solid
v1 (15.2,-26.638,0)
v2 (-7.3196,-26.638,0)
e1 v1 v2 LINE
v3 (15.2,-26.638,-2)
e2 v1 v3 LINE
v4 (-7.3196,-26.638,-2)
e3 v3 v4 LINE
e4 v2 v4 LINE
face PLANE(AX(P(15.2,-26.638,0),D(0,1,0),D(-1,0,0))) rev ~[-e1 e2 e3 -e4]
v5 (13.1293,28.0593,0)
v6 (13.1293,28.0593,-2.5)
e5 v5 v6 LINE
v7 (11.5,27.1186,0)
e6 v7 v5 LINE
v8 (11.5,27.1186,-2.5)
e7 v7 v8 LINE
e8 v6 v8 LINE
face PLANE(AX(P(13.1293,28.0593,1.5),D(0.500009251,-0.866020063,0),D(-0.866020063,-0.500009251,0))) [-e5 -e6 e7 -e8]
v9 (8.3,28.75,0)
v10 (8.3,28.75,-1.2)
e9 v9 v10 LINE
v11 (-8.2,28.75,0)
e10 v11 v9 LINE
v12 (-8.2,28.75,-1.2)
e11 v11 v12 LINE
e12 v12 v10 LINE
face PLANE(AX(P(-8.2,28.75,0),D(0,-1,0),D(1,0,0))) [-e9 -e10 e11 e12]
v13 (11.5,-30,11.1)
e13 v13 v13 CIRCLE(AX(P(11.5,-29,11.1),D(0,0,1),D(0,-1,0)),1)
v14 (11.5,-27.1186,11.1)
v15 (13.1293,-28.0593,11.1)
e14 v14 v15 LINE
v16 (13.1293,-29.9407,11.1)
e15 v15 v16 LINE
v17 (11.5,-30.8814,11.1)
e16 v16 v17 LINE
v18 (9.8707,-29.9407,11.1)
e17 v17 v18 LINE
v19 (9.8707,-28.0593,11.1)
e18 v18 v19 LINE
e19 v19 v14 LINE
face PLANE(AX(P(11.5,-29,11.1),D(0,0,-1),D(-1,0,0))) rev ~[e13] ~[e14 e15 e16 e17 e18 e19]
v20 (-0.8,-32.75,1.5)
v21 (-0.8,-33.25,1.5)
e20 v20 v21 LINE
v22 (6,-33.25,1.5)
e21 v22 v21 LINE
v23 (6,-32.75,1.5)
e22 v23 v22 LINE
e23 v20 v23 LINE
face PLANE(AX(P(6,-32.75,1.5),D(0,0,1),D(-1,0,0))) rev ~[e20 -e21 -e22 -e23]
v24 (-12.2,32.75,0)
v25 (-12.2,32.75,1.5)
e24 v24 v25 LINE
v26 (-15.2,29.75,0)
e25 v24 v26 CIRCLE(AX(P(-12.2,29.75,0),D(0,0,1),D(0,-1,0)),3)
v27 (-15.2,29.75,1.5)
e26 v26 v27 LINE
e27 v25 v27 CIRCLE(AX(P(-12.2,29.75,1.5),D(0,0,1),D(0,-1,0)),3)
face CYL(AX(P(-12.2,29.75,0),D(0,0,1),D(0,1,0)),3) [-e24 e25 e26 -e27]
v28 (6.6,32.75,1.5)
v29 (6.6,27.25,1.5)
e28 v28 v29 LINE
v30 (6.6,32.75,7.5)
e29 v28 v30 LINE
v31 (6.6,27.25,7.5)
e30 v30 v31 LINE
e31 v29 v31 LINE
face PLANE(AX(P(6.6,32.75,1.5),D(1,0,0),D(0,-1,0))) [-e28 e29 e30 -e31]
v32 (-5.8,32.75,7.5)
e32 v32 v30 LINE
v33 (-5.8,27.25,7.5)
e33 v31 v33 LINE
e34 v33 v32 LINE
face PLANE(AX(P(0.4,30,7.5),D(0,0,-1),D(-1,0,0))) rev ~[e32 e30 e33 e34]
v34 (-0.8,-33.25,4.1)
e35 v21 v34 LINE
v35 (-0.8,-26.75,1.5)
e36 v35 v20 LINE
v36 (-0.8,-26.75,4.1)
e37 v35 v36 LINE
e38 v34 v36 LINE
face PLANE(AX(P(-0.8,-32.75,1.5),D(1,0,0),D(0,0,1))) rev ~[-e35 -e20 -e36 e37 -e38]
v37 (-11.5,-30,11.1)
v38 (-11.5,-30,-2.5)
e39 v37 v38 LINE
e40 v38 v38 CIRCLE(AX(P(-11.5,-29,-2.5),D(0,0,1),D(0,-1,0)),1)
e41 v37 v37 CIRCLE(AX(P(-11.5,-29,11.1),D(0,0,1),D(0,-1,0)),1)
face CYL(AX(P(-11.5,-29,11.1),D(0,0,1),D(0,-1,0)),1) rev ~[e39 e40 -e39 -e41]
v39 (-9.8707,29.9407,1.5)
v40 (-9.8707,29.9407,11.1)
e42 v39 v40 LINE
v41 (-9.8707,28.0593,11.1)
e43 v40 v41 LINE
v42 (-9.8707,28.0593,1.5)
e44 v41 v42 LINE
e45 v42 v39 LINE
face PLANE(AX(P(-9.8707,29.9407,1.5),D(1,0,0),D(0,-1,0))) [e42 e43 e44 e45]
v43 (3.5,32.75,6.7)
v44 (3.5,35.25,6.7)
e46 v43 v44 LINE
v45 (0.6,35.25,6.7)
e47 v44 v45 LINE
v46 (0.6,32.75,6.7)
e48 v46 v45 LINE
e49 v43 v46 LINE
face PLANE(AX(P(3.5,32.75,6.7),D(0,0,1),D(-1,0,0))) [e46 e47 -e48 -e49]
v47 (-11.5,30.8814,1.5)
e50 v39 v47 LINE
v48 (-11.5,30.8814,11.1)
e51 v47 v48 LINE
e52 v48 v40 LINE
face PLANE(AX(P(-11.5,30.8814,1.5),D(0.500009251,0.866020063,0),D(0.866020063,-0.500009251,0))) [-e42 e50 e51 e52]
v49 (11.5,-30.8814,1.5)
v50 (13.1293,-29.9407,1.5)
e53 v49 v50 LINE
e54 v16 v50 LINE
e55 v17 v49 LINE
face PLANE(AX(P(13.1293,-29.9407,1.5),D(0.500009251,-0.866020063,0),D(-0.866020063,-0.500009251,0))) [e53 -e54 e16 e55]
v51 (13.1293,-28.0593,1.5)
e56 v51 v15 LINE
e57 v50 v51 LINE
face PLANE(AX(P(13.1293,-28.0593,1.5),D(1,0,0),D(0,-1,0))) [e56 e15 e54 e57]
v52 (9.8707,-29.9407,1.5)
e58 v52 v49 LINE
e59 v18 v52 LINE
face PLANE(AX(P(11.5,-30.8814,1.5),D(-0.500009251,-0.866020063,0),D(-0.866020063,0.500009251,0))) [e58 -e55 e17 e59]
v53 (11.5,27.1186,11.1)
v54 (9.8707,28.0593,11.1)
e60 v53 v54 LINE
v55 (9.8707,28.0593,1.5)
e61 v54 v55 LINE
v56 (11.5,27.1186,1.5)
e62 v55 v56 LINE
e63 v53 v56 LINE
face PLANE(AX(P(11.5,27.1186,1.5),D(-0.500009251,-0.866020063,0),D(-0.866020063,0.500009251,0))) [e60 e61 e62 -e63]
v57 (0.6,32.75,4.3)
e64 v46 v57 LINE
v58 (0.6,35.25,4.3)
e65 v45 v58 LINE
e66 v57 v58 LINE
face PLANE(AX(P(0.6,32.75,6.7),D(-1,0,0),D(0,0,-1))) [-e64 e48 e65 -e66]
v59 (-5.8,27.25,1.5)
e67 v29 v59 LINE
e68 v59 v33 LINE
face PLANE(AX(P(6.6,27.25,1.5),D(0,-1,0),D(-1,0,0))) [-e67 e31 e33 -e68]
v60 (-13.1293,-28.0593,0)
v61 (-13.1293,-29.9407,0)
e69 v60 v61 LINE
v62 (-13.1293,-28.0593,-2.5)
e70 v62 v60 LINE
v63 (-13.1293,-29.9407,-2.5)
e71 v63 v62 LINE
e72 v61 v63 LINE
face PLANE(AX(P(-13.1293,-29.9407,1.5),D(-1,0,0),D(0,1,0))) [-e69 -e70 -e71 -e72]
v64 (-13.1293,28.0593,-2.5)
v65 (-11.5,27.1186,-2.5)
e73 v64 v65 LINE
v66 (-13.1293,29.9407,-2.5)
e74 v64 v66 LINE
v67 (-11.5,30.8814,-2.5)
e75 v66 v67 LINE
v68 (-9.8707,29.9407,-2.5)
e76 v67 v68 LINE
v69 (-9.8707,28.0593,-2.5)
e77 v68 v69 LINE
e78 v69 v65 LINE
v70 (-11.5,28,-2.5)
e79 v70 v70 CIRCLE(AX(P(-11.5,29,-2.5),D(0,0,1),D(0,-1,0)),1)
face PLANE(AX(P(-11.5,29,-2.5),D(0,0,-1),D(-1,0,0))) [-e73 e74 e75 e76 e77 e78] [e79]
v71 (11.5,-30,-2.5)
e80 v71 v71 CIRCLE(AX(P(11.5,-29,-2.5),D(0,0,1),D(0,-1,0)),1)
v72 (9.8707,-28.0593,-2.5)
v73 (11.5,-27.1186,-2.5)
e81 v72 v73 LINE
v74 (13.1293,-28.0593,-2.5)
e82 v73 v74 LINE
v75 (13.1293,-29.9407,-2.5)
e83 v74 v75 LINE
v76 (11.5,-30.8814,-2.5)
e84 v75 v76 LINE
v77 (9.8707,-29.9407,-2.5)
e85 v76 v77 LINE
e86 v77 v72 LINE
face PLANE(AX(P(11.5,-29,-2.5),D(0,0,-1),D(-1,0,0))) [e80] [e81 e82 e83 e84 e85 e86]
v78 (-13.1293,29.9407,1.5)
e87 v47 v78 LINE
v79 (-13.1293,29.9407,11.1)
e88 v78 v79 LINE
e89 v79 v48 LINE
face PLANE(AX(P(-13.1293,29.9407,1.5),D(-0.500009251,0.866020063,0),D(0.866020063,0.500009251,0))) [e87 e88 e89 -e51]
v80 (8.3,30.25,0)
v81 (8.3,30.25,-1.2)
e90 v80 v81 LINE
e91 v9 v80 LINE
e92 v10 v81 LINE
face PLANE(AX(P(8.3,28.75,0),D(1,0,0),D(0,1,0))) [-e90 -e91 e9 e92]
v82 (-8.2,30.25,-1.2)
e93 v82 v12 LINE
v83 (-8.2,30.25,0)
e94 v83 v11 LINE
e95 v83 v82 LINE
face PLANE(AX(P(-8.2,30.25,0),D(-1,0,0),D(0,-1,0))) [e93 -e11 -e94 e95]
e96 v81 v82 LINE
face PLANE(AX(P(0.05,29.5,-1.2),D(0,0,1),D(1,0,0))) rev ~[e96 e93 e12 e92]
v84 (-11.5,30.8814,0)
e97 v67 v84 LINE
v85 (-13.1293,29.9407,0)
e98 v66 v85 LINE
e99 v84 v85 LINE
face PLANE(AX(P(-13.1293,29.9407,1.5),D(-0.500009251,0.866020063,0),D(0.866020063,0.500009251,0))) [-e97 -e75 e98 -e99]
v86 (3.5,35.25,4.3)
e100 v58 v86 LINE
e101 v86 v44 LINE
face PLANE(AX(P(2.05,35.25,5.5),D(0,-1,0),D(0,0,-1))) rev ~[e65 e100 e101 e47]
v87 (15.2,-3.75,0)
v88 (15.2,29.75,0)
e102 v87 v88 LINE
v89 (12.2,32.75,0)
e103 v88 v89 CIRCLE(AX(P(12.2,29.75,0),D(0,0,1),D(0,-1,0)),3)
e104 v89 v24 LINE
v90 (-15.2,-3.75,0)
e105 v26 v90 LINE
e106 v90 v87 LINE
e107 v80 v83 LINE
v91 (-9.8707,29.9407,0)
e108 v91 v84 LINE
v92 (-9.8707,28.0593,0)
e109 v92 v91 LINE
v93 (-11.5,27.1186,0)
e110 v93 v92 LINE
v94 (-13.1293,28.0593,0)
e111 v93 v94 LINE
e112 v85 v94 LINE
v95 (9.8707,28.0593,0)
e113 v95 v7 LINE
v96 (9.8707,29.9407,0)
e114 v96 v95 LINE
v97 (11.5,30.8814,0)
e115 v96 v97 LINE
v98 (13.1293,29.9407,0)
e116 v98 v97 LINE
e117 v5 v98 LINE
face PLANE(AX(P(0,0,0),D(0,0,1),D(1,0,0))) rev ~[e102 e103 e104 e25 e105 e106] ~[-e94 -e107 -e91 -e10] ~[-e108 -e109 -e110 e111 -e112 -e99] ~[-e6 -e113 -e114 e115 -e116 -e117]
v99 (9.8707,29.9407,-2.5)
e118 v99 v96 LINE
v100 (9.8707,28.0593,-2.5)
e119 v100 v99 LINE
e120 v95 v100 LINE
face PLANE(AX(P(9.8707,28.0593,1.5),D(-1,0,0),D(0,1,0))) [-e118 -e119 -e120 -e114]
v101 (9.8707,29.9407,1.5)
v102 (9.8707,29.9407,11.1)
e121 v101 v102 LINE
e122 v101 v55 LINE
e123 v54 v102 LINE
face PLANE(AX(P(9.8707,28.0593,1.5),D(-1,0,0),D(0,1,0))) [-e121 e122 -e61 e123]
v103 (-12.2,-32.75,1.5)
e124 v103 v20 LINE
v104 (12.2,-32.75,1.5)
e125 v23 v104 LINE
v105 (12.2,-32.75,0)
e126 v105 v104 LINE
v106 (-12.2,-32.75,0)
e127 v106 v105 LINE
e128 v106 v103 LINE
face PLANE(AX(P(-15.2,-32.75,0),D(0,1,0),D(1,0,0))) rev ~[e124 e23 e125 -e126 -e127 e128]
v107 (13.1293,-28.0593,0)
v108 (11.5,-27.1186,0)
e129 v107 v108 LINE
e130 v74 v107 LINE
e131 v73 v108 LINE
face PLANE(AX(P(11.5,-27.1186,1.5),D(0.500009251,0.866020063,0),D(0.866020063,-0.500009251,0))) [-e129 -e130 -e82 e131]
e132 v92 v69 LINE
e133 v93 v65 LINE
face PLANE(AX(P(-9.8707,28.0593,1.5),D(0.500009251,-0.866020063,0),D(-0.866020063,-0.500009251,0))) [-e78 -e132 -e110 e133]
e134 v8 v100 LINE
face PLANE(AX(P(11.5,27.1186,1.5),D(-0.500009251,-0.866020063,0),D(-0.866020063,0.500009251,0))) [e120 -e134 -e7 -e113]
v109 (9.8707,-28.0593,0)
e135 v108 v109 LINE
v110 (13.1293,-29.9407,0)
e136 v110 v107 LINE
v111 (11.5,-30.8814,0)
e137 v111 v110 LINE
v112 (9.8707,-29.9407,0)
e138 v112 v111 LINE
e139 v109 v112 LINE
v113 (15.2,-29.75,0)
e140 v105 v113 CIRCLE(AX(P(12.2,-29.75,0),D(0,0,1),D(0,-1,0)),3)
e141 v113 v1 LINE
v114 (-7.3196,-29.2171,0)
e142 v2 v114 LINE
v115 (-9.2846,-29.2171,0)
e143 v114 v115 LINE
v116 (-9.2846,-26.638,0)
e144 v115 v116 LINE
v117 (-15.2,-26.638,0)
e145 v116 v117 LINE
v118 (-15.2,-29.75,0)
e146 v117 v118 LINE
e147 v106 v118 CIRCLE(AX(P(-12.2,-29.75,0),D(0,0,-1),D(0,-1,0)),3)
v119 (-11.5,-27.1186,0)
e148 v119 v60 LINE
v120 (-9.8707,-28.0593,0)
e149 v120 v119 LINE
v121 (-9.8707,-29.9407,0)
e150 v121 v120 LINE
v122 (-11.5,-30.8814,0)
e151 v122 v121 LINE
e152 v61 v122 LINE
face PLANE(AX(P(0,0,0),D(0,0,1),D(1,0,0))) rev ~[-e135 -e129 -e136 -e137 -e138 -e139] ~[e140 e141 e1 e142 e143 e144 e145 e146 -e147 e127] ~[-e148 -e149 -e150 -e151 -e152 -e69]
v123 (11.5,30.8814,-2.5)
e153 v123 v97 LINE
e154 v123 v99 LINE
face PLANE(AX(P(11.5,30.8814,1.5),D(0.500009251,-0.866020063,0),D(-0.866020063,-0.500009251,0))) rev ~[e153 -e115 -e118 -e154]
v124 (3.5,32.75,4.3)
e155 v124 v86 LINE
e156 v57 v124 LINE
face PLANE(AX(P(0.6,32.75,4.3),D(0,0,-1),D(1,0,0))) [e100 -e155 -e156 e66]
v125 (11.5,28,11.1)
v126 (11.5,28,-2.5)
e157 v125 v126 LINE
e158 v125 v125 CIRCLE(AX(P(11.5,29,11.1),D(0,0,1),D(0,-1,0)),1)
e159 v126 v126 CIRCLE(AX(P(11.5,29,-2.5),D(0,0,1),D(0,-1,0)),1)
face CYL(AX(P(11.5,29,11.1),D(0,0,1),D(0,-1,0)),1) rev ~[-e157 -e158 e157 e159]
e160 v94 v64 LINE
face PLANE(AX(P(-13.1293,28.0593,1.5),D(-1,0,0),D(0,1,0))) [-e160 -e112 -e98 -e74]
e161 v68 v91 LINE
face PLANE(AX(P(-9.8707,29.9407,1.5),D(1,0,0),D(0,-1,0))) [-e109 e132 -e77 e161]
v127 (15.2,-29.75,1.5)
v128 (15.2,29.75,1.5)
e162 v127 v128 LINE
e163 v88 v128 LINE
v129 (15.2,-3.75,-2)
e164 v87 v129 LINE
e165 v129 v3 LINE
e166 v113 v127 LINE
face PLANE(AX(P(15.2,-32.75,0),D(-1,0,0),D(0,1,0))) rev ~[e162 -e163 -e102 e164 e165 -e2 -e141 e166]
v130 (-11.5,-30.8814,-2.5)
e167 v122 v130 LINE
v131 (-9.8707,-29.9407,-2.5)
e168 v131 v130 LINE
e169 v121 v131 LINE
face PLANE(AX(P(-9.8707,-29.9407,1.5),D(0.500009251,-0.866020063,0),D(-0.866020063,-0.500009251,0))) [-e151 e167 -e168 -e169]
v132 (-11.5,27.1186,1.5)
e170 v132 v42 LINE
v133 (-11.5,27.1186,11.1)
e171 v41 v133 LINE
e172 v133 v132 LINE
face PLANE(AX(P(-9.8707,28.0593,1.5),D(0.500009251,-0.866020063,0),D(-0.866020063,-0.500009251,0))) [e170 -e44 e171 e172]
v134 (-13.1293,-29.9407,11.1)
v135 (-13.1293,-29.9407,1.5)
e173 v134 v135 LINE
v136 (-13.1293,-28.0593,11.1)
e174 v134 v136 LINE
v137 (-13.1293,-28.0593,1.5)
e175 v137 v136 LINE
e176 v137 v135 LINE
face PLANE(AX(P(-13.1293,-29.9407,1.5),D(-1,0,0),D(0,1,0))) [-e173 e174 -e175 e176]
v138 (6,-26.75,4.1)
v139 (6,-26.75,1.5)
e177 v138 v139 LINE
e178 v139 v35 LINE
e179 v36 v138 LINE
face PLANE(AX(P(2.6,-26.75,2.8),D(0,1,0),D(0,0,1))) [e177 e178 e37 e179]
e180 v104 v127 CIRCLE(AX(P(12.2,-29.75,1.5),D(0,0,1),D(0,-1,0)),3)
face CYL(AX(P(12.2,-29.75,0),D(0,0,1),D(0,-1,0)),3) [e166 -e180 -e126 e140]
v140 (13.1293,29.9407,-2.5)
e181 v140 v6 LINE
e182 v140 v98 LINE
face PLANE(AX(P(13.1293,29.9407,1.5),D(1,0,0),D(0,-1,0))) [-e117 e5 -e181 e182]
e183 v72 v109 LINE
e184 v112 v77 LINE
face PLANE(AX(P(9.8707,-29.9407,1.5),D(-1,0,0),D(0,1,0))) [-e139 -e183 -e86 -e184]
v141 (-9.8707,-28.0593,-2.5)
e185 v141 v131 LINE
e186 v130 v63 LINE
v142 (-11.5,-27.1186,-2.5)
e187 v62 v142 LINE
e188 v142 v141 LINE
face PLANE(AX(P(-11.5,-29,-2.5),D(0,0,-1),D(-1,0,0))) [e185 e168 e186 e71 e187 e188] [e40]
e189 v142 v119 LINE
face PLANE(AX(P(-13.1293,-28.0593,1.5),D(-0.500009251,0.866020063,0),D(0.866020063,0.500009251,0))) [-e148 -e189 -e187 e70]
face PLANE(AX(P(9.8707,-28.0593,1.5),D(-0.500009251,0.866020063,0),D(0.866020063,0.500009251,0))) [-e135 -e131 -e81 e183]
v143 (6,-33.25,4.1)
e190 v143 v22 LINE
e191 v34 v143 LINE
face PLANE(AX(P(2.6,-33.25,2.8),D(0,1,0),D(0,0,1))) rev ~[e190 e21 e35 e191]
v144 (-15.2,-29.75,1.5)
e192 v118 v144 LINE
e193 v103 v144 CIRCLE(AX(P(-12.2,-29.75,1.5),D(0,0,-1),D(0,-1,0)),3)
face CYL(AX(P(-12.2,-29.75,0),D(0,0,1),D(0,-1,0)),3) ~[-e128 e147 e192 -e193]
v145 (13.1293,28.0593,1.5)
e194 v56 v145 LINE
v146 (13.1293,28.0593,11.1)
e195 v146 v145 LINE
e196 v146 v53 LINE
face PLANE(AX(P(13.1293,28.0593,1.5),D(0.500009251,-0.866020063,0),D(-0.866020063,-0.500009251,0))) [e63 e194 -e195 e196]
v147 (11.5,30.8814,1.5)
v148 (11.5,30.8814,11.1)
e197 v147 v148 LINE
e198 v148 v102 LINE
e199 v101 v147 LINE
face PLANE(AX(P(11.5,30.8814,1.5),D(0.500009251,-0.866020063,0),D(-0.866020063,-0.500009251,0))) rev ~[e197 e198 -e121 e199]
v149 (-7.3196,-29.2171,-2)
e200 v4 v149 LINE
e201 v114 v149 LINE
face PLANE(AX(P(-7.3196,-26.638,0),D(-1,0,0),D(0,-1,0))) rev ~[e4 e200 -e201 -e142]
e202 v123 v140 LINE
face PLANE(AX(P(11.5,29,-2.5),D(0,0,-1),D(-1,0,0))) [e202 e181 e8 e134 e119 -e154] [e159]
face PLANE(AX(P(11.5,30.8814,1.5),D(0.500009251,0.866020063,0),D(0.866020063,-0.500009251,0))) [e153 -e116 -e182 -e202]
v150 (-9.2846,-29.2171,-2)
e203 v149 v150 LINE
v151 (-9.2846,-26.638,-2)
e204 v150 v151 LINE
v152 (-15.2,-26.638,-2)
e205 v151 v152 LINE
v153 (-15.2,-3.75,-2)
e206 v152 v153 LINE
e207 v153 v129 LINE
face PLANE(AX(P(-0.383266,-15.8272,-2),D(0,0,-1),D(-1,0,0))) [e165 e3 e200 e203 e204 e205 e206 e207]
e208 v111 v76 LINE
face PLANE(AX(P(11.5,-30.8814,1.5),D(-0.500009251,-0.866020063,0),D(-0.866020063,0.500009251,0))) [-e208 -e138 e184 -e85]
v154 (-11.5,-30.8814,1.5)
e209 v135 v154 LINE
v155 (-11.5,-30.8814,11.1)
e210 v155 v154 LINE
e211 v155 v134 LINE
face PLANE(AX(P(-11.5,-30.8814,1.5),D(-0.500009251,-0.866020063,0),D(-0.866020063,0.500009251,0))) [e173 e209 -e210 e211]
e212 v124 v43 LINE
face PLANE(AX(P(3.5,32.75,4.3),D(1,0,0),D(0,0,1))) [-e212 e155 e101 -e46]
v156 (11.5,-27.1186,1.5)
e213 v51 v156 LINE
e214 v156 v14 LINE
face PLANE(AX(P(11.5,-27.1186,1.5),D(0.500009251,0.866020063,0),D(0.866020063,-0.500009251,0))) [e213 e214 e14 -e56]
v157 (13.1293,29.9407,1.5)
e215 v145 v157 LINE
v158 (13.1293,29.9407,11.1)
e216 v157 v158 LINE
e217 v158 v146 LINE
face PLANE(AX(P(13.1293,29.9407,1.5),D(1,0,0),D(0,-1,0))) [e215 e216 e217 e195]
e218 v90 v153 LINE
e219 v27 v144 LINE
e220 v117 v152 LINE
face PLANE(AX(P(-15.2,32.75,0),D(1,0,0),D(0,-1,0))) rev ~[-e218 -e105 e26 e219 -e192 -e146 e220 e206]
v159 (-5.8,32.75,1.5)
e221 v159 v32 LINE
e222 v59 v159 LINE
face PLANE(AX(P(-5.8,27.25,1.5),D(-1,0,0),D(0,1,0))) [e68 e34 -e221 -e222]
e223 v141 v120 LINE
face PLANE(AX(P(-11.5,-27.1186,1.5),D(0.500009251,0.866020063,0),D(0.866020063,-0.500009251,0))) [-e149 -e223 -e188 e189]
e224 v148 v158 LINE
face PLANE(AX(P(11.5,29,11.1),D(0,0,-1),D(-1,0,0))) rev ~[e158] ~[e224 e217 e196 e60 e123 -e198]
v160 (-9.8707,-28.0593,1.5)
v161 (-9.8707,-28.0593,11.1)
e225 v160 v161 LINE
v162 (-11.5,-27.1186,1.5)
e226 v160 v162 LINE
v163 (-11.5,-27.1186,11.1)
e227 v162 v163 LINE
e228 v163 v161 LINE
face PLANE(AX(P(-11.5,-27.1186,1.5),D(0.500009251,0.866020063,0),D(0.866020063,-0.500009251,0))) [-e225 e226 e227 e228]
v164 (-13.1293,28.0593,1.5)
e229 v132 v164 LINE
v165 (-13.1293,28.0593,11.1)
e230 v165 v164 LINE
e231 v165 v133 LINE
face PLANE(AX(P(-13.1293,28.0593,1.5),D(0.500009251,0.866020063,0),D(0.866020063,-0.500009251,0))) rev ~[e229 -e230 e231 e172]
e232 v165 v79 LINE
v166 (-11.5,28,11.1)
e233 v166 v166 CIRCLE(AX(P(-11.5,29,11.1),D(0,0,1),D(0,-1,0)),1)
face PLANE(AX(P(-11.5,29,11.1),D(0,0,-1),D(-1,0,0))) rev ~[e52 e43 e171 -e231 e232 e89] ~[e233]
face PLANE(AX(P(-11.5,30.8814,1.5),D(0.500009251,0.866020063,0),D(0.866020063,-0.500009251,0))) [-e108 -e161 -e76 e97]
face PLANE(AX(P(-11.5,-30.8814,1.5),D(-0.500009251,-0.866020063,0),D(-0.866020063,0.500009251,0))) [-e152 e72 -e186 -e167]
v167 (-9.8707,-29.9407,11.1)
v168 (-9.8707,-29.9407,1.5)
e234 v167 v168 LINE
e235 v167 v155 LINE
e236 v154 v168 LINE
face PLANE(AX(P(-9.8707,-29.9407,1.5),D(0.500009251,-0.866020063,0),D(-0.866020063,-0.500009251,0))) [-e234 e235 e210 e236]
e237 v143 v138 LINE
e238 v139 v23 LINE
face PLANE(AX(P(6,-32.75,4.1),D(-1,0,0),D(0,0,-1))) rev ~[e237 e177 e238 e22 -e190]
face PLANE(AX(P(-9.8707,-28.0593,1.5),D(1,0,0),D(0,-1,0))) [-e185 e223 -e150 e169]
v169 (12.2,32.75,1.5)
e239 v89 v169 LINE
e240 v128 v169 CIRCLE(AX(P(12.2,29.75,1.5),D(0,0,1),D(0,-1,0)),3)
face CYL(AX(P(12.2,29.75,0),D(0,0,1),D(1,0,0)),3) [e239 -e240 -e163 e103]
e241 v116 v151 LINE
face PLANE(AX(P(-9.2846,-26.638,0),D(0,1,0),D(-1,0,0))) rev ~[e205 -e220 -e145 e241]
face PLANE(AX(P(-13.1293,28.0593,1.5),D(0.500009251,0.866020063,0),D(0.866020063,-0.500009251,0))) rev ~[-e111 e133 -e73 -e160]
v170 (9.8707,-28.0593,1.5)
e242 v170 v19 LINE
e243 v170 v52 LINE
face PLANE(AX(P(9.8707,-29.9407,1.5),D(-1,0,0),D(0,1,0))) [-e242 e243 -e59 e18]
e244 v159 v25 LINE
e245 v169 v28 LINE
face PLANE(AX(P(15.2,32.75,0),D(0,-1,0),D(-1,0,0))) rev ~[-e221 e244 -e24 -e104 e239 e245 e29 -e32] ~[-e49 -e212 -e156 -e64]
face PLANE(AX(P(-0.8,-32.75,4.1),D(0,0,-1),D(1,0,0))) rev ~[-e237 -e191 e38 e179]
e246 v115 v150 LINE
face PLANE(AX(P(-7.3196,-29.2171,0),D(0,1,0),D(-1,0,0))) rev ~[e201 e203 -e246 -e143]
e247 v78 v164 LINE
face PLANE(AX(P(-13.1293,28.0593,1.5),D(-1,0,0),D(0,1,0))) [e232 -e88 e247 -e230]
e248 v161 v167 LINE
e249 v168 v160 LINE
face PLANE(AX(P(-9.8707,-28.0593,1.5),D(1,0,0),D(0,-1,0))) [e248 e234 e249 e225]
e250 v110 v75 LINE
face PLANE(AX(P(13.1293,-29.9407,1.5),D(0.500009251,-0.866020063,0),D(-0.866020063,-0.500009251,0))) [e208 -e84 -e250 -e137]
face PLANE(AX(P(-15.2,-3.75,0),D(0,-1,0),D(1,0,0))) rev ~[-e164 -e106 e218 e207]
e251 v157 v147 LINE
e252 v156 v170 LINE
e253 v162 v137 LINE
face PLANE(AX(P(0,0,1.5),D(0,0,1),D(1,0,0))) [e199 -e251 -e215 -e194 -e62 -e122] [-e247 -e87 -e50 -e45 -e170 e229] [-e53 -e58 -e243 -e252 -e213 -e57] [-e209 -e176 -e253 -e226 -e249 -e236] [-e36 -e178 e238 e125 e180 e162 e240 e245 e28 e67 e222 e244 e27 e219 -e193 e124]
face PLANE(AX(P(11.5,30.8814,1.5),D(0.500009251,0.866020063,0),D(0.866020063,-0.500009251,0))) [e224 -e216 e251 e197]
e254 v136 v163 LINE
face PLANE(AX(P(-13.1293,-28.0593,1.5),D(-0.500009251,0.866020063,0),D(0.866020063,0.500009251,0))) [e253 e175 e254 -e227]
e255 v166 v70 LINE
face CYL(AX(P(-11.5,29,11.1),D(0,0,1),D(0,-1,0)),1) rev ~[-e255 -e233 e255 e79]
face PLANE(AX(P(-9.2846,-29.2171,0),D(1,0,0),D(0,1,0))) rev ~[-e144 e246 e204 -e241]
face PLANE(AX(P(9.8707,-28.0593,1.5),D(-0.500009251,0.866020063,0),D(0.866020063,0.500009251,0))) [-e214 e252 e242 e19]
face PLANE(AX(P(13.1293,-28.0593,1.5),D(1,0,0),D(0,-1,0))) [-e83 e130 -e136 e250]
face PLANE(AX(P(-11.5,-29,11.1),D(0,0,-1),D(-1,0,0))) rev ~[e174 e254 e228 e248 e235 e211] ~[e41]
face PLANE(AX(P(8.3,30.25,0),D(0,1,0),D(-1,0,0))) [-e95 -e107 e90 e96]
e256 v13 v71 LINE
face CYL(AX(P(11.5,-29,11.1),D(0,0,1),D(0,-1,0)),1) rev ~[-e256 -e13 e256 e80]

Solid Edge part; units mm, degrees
sketch "Sketch1" plane through (0, 0, 0) normal (0, 0, 1) x (1, 0, 0)
  line L0 (-15.2, -32.75) -> (15.2, -32.75)
  line L1 (15.2, -32.75) -> (15.2, 32.75)
  line L2 (15.2, 32.75) -> (-15.2, 32.75)
  line L3 (-15.2, 32.75) -> (-15.2, -32.75)
  dimension "D1" = 30.4
  dimension "D2" = 65.5
extrude "Protrusion1" add sketch "Sketch1" along normal blind 1.5
fillet "Verrundung_1" radius 3 4 edges at (15.2, -32.75, 0.75) (-15.2, -32.75, 0.75) (15.2, 32.75, 0.75) (-15.2, 32.75, 0.75)
sketch "Sketch2" plane through (0, 0, 1.5) normal (0, 0, 1) x (0, -1, 0)
  line L0 (-29.9407, 13.1293) -> (-28.0593, 13.1293)
  line L1 (-28.0593, 13.1293) -> (-27.1186, 11.5)
  line L2 (-27.1186, 11.5) -> (-28.0593, 9.8707)
  line L3 (-28.0593, 9.8707) -> (-29.9407, 9.8707)
  line L4 (-30.8814, 11.5) -> (-29.9407, 9.8707)
  line L5 (-30.8814, 11.5) -> (-29.9407, 13.1293)
  line L6 (-29.9407, -9.8707) -> (-28.0593, -9.8707)
  line L7 (-28.0593, -9.8707) -> (-27.1186, -11.5)
  line L8 (-28.0593, -13.1293) -> (-27.1186, -11.5)
  line L9 (-28.0593, -13.1293) -> (-29.9407, -13.1293)
  line L10 (-29.9407, -13.1293) -> (-30.8814, -11.5)
  line L11 (-30.8814, -11.5) -> (-29.9407, -9.8707)
  line L12 (28.0593, 13.1293) -> (29.9407, 13.1293)
  line L13 (29.9407, 13.1293) -> (30.8814, 11.5)
  line L14 (30.8814, 11.5) -> (29.9407, 9.8707)
  line L15 (29.9407, 9.8707) -> (28.0593, 9.8707)
  line L16 (28.0593, 9.8707) -> (27.1186, 11.5)
  line L17 (27.1186, 11.5) -> (28.0593, 13.1293)
  line L18 (28.0593, -9.8707) -> (29.9407, -9.8707)
  line L19 (29.9407, -9.8707) -> (30.8814, -11.5)
  line L20 (30.8814, -11.5) -> (29.9407, -13.1293)
  line L21 (29.9407, -13.1293) -> (28.0593, -13.1293)
  line L22 (28.0593, -13.1293) -> (27.1186, -11.5)
  line L23 (27.1186, -11.5) -> (28.0593, -9.8707)
  dimension "D1" = 58
  dimension "D2" = 23
extrude "Extrusionsausprägung_2" add sketch "Sketch2" along normal blind 9.6 and the other way blind 4
sketch "Sketch3" plane through (0, -32.75, 0.75) normal (0, -1, 0) x (1, 0, 0)
  line L0 (-0.8, 0.75) -> (-0.8, 3.35)
  line L1 (-0.8, 3.35) -> (6, 3.35)
  line L2 (6, 3.35) -> (6, 0.75)
  line L3 (6, 0.75) -> (-0.8, 0.75)
  dimension "D1" = 6.8
  dimension "D2" = 2.6
  dimension "D3" = 16
extrude "Extrusionsausprägung_3" add sketch "Sketch3" against normal blind 6 and the other way blind 0.5
sketch "Sketch4" plane through (0, 0, 1.5) normal (0, 0, 1) x (0, -1, 0)
  line L0 (-32.75, 6.6) -> (-27.25, 6.6)
  line L1 (-27.25, 6.6) -> (-27.25, -5.8)
  line L2 (-27.25, -5.8) -> (-32.75, -5.8)
  line L3 (-32.75, -5.8) -> (-32.75, 6.6)
  dimension "D1" = 12.4
  dimension "D2" = 5.5
  dimension "D3" = 21.8
extrude "Extrusionsausprägung_4" add sketch "Sketch4" along normal blind 6
sketch "Sketch5" plane through (0, 32.75, 3.75) normal (0, 1, 0) x (-1, 0, 0)
  line L0 (-3.5, 2.95) -> (-0.6, 2.95)
  line L1 (-0.6, 2.95) -> (-0.6, 0.55)
  line L2 (-0.6, 0.55) -> (-3.5, 0.55)
  line L3 (-3.5, 0.55) -> (-3.5, 2.95)
  dimension "D1" = 2.4
  dimension "D2" = 2.9
  dimension "D3" = 6
  dimension "D4" = 3.2
extrude "Extrusionsausprägung_5" add sketch "Sketch5" along normal blind 2.5
sketch "Sketch6" plane through (11.5, 29, 11.1) normal (0, 0, 1) x (0, -1, 0)
  circle A0 centre (0, 0) radius 1
  circle A1 centre (0, -23) radius 1
  circle A2 centre (58, -23) radius 1
  circle A3 centre (58, 0) radius 1
  dimension "D1" = 2
extrude "Cutout1" cut sketch "Sketch6" against normal through all
sketch "Sketch7" plane through (0, 0, 0) normal (0, 0, -1) x (0, -1, 0)
  line L0 (-30.25, 8.2) -> (-28.75, 8.2)
  line L1 (-28.75, 8.2) -> (-28.75, -8.3)
  line L2 (-28.75, -8.3) -> (-30.25, -8.3)
  line L3 (-30.25, -8.3) -> (-30.25, 8.2)
  dimension "D1" = 1.5
  dimension "D2" = 16.5
  dimension "D3" = 2.5
  dimension "D4" = 7
extrude "Extrusionsausprägung_6" add sketch "Sketch7" along normal blind 1.2
sketch "Sketch8" plane through (0, 0, 0) normal (0, 0, -1) x (0, -1, 0)
  line L0 (3.75, 15.2) -> (3.75, -15.2)
  line L1 (3.75, -15.2) -> (26.638, -15.2)
  line L2 (26.638, -15.2) -> (26.638, 7.3196)
  line L3 (26.638, 7.3196) -> (29.2171, 7.3196)
  line L4 (29.2171, 7.3196) -> (29.2171, 9.2846)
  line L5 (29.2171, 9.2846) -> (26.638, 9.2846)
  line L6 (26.638, 9.2846) -> (26.638, 15.2)
  line L7 (26.638, 15.2) -> (3.75, 15.2)
  dimension "D1" = 29
extrude "Extrusionsausprägung_7" add sketch "Sketch8" along normal blind 2
